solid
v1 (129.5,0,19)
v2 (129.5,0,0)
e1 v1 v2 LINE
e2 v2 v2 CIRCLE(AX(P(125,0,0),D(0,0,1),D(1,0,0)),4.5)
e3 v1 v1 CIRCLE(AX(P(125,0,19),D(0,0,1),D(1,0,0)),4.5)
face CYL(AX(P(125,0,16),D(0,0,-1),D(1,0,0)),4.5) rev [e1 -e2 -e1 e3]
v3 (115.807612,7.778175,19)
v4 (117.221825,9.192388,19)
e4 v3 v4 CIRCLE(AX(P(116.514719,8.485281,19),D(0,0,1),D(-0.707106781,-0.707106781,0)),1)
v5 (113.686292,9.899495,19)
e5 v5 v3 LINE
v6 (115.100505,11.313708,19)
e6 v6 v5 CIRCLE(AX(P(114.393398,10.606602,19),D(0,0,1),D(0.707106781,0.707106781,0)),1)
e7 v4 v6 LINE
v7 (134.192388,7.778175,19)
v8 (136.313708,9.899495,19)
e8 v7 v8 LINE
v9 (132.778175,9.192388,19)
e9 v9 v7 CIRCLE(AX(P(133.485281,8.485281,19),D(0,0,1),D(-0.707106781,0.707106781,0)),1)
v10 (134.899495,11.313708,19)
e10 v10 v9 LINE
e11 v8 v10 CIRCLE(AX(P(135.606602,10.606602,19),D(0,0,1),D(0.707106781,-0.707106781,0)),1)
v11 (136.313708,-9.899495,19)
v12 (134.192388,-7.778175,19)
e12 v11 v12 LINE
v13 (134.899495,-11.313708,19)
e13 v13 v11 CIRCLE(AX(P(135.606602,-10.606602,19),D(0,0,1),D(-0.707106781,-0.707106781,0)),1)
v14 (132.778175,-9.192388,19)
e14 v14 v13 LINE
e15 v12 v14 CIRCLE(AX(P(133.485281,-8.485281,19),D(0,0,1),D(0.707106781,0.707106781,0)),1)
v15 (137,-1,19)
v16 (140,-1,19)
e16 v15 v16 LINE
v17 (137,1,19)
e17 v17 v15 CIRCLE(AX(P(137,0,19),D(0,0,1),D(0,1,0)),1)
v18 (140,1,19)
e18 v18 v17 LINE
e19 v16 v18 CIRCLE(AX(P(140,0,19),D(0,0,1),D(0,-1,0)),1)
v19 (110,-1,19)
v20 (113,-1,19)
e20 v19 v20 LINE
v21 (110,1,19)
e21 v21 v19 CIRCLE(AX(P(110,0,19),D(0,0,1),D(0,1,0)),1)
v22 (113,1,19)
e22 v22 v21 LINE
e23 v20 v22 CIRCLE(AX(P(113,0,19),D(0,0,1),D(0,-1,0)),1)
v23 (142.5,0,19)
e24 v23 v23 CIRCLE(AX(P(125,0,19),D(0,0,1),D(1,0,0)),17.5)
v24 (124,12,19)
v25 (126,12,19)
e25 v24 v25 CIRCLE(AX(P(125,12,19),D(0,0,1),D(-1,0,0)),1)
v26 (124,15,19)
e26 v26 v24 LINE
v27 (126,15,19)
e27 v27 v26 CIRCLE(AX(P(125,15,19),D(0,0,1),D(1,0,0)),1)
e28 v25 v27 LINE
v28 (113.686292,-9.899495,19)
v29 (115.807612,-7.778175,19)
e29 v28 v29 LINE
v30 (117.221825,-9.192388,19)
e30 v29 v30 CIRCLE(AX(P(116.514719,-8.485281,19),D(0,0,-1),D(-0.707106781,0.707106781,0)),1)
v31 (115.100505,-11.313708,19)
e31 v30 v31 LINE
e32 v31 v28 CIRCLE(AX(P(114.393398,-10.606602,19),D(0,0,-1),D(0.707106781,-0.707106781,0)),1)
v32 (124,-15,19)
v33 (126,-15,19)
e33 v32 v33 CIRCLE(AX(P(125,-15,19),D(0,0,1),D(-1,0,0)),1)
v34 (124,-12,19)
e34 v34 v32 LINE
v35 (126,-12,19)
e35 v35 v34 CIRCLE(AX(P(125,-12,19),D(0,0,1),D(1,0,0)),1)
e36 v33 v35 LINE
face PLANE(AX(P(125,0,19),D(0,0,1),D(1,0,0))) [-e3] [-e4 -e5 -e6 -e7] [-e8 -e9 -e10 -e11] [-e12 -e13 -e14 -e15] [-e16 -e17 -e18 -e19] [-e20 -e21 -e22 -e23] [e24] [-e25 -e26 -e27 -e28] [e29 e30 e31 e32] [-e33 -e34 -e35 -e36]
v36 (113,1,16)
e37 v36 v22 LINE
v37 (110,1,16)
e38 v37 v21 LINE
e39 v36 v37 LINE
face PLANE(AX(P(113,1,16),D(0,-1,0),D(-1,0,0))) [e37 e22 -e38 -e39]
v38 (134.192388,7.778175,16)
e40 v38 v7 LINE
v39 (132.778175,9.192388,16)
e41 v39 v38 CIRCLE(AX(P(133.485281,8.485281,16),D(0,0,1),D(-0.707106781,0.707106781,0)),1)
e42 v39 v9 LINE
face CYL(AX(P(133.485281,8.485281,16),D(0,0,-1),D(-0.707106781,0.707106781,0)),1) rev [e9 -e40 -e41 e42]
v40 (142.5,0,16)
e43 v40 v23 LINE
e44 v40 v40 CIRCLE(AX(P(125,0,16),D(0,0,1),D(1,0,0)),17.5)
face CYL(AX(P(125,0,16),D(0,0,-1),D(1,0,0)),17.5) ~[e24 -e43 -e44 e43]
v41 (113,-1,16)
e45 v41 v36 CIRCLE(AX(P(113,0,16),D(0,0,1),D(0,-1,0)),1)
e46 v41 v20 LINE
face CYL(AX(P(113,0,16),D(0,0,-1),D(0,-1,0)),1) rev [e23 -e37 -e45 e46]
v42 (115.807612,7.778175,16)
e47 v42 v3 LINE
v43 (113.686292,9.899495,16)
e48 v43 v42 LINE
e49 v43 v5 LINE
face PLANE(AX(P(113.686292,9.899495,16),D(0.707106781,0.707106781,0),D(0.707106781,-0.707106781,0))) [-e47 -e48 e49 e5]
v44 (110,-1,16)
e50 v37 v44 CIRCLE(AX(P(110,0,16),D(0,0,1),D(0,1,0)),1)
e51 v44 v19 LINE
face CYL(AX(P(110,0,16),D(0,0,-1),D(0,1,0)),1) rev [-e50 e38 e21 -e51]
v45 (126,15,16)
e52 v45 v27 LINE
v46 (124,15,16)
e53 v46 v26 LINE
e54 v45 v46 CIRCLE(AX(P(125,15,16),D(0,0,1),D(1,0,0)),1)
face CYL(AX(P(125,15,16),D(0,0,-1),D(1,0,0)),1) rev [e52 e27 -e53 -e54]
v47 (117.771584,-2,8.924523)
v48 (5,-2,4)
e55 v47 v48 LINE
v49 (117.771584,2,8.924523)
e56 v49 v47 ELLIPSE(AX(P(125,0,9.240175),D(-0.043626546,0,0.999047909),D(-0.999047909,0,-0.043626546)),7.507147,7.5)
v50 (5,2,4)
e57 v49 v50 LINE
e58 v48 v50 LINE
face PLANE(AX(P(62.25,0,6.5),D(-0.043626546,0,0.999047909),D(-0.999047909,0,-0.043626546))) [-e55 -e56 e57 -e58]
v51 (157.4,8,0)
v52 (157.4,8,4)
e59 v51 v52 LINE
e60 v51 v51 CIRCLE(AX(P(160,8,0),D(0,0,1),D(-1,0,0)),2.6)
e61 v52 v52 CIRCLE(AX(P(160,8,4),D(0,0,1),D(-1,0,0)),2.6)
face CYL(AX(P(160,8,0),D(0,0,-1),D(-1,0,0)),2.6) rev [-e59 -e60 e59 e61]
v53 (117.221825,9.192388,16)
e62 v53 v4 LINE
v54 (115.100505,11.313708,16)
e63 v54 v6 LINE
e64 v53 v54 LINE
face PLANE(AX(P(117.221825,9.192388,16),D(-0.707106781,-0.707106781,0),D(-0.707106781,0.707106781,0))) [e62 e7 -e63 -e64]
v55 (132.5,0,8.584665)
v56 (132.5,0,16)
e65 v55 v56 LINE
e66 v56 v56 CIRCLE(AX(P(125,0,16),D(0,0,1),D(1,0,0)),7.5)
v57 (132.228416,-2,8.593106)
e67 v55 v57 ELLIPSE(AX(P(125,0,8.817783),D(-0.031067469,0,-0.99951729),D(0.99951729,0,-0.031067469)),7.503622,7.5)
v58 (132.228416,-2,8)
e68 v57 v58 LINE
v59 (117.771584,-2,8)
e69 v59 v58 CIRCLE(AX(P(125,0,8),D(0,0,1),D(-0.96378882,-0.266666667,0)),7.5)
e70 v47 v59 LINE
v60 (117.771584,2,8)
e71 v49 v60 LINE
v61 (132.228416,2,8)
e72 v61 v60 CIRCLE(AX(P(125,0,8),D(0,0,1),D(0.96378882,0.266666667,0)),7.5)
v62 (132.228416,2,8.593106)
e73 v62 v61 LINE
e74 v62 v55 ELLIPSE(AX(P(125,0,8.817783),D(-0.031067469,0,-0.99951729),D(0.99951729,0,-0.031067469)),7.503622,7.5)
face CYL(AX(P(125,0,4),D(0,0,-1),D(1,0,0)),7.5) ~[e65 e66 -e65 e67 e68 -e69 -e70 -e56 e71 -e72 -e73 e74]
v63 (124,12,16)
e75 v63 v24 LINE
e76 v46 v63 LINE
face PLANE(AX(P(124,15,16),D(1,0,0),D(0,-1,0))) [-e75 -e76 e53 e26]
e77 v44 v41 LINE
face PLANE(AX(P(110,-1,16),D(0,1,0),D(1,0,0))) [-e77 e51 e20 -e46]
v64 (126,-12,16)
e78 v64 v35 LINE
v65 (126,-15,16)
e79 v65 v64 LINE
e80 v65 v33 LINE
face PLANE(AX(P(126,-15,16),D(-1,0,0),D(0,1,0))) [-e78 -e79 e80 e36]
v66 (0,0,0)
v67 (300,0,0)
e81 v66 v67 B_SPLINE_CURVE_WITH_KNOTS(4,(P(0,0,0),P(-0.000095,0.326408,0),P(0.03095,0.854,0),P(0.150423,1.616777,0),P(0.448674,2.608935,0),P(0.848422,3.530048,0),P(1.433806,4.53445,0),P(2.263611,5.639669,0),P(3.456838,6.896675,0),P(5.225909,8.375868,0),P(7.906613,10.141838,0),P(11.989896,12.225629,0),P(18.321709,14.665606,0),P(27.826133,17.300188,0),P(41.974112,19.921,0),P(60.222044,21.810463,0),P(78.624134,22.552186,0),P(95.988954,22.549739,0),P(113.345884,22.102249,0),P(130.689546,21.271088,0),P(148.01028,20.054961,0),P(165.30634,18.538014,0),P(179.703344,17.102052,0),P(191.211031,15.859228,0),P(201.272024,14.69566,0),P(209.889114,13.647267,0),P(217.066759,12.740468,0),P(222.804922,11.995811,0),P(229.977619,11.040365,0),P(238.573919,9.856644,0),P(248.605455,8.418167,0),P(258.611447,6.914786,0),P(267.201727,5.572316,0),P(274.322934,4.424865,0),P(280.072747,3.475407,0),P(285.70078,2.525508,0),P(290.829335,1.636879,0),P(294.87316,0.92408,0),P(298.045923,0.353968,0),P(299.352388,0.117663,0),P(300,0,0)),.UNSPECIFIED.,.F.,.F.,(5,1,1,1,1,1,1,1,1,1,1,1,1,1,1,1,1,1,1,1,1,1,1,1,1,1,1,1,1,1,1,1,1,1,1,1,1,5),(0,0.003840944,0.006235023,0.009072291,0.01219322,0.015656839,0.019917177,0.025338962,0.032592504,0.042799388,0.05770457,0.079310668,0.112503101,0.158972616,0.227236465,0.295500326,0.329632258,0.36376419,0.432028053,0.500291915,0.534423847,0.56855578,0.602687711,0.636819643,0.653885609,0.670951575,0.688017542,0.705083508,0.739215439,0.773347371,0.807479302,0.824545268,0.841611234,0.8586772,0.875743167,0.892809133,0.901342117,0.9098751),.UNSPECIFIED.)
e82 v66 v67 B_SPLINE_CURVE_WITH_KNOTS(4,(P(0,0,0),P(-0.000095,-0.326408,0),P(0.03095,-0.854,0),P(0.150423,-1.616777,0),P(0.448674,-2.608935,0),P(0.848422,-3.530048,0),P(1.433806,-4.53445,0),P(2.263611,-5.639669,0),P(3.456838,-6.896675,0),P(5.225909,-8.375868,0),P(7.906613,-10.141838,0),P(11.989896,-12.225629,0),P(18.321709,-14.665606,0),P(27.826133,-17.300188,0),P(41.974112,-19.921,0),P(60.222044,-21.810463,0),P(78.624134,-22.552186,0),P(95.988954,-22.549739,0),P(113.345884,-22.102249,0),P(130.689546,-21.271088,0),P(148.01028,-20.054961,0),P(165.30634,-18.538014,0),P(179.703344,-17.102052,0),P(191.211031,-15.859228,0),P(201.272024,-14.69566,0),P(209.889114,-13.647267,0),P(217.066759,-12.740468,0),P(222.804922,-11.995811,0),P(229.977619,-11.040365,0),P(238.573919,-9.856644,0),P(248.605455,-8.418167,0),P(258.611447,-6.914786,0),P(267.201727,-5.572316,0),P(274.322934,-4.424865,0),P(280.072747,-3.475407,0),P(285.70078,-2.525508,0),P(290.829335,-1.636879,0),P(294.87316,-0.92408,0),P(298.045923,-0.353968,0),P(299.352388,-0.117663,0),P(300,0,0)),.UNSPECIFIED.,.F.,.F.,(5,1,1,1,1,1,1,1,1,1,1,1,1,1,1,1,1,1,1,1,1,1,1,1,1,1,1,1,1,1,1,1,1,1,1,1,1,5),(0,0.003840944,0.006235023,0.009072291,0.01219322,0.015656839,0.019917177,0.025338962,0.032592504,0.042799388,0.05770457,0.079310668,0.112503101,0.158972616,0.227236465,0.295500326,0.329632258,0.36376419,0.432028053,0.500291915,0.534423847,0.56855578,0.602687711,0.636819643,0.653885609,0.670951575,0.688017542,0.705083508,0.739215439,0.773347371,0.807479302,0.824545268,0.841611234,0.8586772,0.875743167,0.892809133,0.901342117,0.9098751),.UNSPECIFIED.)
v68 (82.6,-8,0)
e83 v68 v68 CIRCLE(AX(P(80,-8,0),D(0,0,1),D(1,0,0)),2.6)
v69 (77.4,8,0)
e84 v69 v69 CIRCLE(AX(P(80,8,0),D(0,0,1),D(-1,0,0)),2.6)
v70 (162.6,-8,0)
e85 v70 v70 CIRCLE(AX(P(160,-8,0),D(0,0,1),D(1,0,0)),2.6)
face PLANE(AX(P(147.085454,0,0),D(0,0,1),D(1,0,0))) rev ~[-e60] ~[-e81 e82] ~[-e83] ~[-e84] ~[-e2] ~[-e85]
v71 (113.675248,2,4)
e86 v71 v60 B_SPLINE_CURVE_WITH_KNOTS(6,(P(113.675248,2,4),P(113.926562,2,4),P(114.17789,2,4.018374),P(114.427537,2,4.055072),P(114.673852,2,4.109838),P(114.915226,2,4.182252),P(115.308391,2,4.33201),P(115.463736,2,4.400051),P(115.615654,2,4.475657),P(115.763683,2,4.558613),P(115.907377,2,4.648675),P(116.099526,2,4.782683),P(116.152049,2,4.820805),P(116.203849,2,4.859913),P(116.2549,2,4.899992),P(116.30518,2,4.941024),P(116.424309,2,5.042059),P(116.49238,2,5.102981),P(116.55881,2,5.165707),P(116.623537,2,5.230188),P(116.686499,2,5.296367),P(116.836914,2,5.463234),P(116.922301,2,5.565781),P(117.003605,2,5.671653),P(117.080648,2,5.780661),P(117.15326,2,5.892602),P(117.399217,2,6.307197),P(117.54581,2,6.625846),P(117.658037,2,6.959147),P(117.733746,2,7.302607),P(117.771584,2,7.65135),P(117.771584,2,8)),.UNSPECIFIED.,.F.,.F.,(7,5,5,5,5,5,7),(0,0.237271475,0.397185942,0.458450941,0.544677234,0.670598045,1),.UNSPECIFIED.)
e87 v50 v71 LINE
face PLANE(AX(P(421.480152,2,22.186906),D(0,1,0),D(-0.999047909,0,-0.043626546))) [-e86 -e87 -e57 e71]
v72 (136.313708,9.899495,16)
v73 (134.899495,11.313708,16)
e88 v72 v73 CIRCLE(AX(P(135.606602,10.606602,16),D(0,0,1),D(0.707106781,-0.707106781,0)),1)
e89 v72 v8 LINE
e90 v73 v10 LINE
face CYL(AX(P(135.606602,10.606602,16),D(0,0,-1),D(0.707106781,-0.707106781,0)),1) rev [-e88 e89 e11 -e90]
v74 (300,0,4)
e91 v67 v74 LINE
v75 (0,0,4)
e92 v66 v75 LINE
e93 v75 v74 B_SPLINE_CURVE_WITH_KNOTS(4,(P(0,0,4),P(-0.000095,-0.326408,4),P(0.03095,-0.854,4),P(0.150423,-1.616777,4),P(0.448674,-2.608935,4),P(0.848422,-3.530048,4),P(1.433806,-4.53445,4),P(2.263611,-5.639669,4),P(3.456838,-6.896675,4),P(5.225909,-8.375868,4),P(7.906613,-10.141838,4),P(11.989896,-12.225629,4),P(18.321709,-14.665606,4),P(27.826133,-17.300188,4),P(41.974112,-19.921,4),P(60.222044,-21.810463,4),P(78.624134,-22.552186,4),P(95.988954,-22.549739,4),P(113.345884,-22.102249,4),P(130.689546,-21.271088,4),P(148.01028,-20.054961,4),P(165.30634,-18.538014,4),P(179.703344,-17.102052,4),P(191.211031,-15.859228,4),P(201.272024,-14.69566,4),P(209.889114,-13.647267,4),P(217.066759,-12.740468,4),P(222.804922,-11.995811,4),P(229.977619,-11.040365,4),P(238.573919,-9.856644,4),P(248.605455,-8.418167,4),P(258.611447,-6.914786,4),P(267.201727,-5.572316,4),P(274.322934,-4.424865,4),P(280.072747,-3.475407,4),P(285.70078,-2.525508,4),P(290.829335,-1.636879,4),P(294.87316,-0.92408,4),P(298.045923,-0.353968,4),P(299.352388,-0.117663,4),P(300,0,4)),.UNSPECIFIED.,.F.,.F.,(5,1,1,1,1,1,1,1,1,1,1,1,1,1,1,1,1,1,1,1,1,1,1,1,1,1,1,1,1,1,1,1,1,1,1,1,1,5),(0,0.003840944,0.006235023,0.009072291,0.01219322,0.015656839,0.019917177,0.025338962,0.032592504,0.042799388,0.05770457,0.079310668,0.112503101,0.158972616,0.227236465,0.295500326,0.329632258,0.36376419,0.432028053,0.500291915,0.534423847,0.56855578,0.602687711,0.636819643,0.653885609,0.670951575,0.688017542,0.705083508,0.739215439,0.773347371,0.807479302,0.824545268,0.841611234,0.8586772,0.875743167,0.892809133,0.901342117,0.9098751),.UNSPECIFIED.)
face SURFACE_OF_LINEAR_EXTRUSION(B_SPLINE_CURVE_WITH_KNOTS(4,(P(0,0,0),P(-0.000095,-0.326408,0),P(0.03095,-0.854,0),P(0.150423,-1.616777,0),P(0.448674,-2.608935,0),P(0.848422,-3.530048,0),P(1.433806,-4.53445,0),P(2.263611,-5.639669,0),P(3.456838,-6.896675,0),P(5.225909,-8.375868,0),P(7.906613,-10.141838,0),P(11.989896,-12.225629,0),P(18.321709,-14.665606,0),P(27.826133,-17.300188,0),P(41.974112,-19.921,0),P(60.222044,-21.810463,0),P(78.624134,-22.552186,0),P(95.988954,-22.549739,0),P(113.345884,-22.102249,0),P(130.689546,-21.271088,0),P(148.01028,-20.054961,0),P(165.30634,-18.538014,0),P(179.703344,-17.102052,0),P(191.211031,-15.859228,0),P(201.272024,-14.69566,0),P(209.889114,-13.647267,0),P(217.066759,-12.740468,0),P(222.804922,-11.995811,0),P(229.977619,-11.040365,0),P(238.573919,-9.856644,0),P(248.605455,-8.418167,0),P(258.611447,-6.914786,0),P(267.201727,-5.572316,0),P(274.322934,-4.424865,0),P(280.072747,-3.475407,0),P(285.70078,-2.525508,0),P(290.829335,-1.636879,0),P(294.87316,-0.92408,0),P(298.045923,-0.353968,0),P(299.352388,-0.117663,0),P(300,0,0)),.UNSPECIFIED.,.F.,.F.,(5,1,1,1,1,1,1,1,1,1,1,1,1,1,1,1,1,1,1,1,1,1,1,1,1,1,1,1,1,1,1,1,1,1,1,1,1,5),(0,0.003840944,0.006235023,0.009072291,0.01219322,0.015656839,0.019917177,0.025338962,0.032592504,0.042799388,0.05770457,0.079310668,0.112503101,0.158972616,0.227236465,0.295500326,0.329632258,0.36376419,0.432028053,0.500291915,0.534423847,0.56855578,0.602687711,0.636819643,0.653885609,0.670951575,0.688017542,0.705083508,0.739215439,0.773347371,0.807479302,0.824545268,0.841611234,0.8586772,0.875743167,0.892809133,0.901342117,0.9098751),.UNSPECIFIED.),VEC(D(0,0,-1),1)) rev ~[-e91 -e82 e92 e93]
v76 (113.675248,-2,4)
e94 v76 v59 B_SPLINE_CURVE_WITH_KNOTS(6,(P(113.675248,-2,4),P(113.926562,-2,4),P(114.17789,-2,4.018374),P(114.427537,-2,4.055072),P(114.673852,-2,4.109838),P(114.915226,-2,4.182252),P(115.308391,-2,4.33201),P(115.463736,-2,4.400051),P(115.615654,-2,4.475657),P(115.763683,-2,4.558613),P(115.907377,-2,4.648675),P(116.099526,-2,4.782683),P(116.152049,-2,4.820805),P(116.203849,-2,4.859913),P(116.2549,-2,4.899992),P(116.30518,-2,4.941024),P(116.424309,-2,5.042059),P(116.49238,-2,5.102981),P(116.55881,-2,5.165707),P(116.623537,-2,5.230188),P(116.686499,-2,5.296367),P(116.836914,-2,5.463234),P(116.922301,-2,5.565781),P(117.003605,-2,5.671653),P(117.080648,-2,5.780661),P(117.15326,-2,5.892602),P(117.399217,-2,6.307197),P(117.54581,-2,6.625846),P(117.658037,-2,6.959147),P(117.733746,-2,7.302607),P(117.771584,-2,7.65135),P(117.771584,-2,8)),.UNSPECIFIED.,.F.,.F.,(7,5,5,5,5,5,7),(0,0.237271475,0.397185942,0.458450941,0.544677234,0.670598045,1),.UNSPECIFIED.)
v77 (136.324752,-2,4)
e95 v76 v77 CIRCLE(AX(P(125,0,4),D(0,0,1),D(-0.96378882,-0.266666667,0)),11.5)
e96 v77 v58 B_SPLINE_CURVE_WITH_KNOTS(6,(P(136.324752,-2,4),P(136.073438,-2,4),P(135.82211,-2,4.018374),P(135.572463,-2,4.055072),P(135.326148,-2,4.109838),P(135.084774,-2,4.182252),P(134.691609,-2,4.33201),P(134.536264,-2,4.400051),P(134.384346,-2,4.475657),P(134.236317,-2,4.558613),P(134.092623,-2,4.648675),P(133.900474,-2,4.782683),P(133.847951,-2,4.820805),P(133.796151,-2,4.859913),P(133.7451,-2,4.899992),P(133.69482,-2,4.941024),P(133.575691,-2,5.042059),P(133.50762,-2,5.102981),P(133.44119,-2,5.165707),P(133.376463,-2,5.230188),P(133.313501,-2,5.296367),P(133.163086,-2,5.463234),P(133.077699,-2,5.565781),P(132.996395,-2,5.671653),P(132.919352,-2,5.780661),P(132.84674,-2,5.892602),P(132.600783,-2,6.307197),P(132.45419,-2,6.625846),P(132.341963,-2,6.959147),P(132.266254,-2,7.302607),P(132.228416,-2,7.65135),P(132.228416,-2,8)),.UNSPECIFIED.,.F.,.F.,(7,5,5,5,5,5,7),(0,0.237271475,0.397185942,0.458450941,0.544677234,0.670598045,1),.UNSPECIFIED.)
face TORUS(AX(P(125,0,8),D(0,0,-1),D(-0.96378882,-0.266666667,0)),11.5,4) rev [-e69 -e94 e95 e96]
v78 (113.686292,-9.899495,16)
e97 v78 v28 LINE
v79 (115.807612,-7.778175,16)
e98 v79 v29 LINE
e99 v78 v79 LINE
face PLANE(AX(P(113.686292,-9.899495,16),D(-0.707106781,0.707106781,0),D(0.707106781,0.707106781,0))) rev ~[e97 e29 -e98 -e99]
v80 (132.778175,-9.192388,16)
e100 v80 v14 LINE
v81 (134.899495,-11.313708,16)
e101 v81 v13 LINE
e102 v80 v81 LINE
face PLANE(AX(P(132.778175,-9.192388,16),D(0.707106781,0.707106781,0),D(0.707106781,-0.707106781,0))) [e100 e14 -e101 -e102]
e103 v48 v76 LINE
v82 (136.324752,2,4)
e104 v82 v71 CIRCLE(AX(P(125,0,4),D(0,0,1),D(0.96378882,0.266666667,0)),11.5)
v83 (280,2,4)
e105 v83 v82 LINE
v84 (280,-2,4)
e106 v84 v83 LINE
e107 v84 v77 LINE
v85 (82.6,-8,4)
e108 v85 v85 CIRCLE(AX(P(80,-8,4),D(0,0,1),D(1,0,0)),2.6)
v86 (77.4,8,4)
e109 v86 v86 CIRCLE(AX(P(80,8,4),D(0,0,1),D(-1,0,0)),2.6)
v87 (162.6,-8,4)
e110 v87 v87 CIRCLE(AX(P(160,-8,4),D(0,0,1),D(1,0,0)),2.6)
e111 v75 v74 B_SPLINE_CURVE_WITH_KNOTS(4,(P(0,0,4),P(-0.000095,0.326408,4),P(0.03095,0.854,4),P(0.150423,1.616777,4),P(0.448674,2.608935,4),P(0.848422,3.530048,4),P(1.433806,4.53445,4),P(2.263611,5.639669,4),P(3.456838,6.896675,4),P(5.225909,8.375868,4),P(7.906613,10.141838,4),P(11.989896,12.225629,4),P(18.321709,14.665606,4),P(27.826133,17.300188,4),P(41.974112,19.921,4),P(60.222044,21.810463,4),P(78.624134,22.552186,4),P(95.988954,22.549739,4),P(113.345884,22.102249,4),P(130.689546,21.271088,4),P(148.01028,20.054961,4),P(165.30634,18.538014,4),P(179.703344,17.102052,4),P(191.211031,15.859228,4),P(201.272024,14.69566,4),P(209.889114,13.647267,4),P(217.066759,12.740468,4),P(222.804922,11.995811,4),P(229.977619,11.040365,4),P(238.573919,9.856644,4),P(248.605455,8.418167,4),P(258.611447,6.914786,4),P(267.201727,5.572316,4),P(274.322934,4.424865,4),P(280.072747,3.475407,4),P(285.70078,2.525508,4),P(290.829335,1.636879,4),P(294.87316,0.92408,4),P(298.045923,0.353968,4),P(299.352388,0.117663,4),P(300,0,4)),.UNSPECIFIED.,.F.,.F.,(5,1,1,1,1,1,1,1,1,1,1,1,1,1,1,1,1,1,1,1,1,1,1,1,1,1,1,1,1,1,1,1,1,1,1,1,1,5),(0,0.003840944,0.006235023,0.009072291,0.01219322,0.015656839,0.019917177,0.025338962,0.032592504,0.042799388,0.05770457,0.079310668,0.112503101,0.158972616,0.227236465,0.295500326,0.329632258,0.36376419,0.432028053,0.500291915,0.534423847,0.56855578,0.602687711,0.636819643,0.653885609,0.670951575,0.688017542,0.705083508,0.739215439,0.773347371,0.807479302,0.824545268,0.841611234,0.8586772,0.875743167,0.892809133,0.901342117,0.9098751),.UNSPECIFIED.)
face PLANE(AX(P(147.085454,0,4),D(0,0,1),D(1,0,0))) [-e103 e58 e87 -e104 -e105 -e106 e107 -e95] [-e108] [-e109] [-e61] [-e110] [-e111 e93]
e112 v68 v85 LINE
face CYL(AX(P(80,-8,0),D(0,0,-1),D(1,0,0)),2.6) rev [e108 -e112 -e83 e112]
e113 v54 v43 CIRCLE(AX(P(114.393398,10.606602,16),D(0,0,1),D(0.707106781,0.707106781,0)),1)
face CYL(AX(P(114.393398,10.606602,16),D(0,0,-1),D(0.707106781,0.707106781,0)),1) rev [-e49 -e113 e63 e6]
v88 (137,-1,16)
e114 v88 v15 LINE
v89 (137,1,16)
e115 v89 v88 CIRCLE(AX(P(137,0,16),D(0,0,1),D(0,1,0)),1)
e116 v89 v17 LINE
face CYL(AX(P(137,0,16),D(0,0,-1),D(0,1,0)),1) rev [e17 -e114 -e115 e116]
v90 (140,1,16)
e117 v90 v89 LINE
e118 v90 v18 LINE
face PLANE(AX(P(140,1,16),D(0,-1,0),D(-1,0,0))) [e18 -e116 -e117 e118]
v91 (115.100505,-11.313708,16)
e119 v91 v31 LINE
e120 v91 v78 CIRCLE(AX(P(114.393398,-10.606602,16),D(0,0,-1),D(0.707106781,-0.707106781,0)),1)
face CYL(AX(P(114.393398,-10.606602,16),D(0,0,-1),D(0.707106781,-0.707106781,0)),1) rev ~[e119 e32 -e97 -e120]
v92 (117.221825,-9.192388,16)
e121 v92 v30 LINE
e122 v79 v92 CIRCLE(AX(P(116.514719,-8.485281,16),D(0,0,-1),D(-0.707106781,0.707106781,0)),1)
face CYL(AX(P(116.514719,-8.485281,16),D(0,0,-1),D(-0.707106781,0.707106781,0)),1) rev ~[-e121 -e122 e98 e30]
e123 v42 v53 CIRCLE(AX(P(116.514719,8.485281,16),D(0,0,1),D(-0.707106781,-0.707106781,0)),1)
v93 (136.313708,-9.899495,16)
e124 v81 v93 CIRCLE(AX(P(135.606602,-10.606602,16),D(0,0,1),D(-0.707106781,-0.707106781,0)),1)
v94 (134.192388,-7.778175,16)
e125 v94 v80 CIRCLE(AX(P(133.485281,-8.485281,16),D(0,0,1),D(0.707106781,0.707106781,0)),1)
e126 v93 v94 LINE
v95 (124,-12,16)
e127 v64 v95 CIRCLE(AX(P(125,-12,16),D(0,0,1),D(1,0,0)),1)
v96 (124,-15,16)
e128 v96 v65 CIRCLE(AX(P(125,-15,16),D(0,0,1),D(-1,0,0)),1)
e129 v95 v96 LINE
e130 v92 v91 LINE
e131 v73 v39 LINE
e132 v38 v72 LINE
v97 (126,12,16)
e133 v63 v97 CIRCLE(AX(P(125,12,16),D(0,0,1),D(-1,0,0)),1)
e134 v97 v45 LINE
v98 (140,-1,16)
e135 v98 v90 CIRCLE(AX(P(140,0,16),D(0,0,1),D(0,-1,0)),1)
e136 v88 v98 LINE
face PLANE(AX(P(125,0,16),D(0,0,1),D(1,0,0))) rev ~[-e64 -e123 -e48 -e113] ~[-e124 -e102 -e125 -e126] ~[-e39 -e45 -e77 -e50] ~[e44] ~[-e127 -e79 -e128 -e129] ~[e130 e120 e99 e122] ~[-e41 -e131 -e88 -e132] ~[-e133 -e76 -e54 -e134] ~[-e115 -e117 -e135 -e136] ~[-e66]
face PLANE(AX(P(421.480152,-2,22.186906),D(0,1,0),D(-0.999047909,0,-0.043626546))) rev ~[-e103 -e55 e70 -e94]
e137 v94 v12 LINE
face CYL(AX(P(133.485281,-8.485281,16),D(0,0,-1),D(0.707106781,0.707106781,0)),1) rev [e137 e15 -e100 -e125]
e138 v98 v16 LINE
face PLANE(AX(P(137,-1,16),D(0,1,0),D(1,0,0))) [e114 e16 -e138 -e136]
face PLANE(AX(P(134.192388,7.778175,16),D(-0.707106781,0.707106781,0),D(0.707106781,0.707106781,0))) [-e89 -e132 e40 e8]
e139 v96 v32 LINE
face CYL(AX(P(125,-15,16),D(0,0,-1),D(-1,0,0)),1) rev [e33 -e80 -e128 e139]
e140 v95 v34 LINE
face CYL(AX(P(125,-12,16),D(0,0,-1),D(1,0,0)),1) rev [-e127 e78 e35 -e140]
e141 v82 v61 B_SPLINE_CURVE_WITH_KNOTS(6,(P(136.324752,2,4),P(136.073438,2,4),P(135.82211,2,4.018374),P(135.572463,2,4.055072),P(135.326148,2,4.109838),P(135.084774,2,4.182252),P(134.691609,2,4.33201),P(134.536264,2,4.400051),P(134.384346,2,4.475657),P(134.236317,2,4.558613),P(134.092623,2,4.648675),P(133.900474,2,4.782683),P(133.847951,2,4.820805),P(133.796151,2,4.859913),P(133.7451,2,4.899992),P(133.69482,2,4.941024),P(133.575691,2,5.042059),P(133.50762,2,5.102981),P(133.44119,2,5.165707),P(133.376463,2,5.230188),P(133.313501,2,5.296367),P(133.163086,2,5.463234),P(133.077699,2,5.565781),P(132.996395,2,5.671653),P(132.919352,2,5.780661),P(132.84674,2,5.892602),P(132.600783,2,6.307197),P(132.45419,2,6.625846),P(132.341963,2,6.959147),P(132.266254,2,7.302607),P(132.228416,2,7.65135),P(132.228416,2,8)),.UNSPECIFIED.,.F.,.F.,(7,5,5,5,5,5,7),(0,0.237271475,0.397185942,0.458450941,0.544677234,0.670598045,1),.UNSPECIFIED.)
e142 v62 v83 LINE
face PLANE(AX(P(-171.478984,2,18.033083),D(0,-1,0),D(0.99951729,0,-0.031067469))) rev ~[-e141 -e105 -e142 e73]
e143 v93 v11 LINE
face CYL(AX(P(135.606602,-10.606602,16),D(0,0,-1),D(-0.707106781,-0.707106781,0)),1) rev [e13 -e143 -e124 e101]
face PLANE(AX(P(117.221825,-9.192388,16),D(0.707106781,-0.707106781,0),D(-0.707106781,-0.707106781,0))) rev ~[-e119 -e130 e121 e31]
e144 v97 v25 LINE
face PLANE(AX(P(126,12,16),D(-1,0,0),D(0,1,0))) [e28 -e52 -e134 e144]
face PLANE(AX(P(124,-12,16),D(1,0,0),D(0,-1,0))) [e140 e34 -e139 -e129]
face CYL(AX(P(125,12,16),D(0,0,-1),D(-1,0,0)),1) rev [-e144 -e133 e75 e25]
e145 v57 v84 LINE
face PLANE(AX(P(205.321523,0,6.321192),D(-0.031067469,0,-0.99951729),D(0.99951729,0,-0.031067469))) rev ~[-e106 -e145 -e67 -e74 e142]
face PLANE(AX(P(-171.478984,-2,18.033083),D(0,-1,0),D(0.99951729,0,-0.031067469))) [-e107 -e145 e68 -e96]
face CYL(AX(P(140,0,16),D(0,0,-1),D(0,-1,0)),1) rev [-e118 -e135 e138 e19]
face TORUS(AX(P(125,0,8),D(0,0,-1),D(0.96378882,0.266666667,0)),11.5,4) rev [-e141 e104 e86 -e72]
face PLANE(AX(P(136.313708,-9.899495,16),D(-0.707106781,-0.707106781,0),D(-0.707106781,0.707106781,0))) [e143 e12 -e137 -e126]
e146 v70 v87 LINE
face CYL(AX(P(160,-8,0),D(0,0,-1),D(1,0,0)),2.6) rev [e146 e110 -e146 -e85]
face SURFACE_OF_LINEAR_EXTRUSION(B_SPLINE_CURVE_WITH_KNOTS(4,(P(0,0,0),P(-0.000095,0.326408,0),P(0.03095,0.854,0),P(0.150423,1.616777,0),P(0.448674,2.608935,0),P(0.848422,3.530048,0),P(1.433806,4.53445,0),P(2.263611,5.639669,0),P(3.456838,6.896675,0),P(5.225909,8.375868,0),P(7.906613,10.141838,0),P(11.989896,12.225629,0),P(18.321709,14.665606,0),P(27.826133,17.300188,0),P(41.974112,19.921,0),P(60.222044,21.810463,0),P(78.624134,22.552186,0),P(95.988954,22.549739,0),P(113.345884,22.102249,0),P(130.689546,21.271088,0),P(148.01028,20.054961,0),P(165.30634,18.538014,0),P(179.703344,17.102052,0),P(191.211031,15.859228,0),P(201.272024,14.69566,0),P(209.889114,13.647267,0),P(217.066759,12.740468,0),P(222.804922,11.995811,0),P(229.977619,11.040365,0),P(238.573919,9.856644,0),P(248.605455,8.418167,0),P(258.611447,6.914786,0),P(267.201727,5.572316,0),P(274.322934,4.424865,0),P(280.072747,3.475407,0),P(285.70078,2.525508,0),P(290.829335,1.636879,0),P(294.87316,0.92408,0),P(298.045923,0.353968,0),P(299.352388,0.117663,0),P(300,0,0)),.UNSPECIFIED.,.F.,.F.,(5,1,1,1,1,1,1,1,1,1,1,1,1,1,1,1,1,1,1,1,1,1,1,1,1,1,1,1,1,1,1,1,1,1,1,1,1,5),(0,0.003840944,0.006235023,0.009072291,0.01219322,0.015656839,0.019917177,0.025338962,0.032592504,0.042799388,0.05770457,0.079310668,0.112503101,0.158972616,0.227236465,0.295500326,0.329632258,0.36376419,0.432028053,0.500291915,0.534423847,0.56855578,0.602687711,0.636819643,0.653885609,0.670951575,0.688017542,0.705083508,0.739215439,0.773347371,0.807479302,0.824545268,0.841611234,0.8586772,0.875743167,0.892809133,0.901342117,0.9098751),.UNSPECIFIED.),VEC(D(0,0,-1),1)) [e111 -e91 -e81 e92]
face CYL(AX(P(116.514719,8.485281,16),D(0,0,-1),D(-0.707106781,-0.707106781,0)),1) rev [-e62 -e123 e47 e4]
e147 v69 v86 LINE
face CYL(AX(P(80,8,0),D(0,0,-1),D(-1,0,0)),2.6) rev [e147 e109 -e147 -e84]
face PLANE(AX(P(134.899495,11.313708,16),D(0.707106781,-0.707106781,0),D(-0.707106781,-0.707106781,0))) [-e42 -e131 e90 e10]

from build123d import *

# Parameters (mm, degrees)
SKETCH_1_R      = 4.5
SKETCH_1_R_2    = 2.6
EXTRUDE_1_DEPTH = 4
SKETCH_2_R      = 7.5
SKETCH_2_R_2    = 4.5
EXTRUDE_2_DEPTH = 12
RIB_7_REACH     = 303.268
SKETCH_4_WALL_W = 719.144994966
SKETCH_4_WALL_H = 4
RIB_8_REACH     = 303.268
SKETCH_5_WALL_W = 753.964961
SKETCH_5_WALL_H = 4
FILLET_1_R      = 4
SKETCH_6_R      = 17.5
SKETCH_6_R_2    = 4.5
EXTRUDE_3_DEPTH = 3


with BuildPart() as part:
    # 草图1 → 凸台-拉伸1 (new body)
    with BuildSketch(Plane.XY):
        with BuildLine():
            add(Edge.make_bspline(
                [(0, 0), (-9.5489e-05, -0.326407864), (0.030950281, -0.854000019), (0.150423202, -1.616777315), (0.448674258, -2.608935021), (0.848421592, -3.530047693), (1.433806351, -4.534449955), (2.263610744, -5.639668731), (3.456837907, -6.896675246), (5.225908513, -8.375867947), (7.906613431, -10.141837985), (11.989896233, -12.22562949), (18.321708513, -14.665606049), (27.826133031, -17.300188207), (41.974112353, -19.921000387), (60.222043604, -21.810463358), (78.624134319, -22.552186027), (95.988954389, -22.549739294), (113.345884106, -22.102249143), (130.689546496, -21.271088382), (148.01027967, -20.054961298), (165.306340091, -18.538013572), (179.703344131, -17.102052063), (191.21103146, -15.859228418), (201.272024493, -14.695659938), (209.889114389, -13.64726737), (217.06675899, -12.740467847), (222.804921516, -11.995811085), (229.977619163, -11.040364781), (238.573919489, -9.856643655), (248.605455284, -8.418167008), (258.611446595, -6.914785611), (267.201727162, -5.572315852), (274.322933639, -4.424865398), (280.072746677, -3.475406948), (285.700780324, -2.525508132), (290.829335304, -1.636879112), (294.873159607, -0.924080287), (298.04592284, -0.353968123), (299.35238804, -0.117662998), (300, 0)],
                knots=[0, 0, 0, 0, 0, 0.003840944, 0.006235023, 0.009072291, 0.01219322, 0.015656839, 0.019917177, 0.025338962, 0.032592504, 0.042799388, 0.05770457, 0.079310668, 0.112503101, 0.158972616, 0.227236465, 0.295500326, 0.329632258, 0.36376419, 0.432028053, 0.500291915, 0.534423847, 0.56855578, 0.602687711, 0.636819643, 0.653885609, 0.670951575, 0.688017542, 0.705083508, 0.739215439, 0.773347371, 0.807479302, 0.824545268, 0.841611234, 0.8586772, 0.875743167, 0.892809133, 0.901342117, 0.9098751, 0.9098751, 0.9098751, 0.9098751, 0.9098751], degree=4))
            add(Edge.make_bspline(
                [(0, 0), (-9.5489e-05, 0.326407864), (0.030950281, 0.854000019), (0.150423202, 1.616777315), (0.448674258, 2.608935021), (0.848421592, 3.530047693), (1.433806351, 4.534449955), (2.263610744, 5.639668731), (3.456837907, 6.896675246), (5.225908513, 8.375867947), (7.906613431, 10.141837985), (11.989896233, 12.22562949), (18.321708513, 14.665606049), (27.826133031, 17.300188207), (41.974112353, 19.921000387), (60.222043604, 21.810463358), (78.624134319, 22.552186027), (95.988954389, 22.549739295), (113.345884106, 22.102249143), (130.689546496, 21.271088382), (148.01027967, 20.054961298), (165.306340091, 18.538013572), (179.703344131, 17.102052063), (191.21103146, 15.859228418), (201.272024493, 14.695659938), (209.889114389, 13.64726737), (217.06675899, 12.740467847), (222.804921516, 11.995811086), (229.977619163, 11.040364781), (238.573919489, 9.856643655), (248.605455284, 8.418167008), (258.611446595, 6.914785611), (267.201727162, 5.572315852), (274.322933639, 4.424865398), (280.072746677, 3.475406948), (285.700780324, 2.525508132), (290.829335304, 1.636879112), (294.873159607, 0.924080288), (298.04592284, 0.353968123), (299.35238804, 0.117662998), (300, 0)],
                knots=[0, 0, 0, 0, 0, 0.003840944, 0.006235023, 0.009072291, 0.01219322, 0.015656839, 0.019917177, 0.025338962, 0.032592504, 0.042799388, 0.05770457, 0.079310668, 0.112503101, 0.158972616, 0.227236465, 0.295500326, 0.329632258, 0.36376419, 0.432028053, 0.500291915, 0.534423847, 0.56855578, 0.602687711, 0.636819643, 0.653885609, 0.670951575, 0.688017542, 0.705083508, 0.739215439, 0.773347371, 0.807479302, 0.824545268, 0.841611234, 0.8586772, 0.875743167, 0.892809133, 0.901342117, 0.9098751, 0.9098751, 0.9098751, 0.9098751, 0.9098751], degree=4))
        make_face()
        with Locations((125, 0)):
            Circle(SKETCH_1_R, mode=Mode.SUBTRACT)
        with Locations((80, -8)):
            Circle(SKETCH_1_R_2, mode=Mode.SUBTRACT)
        with Locations((160, -8)):
            Circle(SKETCH_1_R_2, mode=Mode.SUBTRACT)
        with Locations(Location((80, 8, 0), (0, 0, 180))):
            Circle(SKETCH_1_R_2, mode=Mode.SUBTRACT)
        with Locations(Location((160, 8, 0), (0, 0, 180))):
            Circle(SKETCH_1_R_2, mode=Mode.SUBTRACT)
    extrude(amount=EXTRUDE_1_DEPTH)

    # 草图2 → 凸台-拉伸2 (add)
    with BuildSketch(Plane.XY.offset(4)):
        with Locations((125, 0)):
            Circle(SKETCH_2_R)
        with Locations((125, 0)):
            Circle(SKETCH_2_R_2, mode=Mode.SUBTRACT)
    extrude(amount=EXTRUDE_2_DEPTH)

    # 草图4 wall → 筋7 (add, up to next)
    with BuildSketch(Plane(origin=(62.25, 0, 6.5), x_dir=(-0.999047908993, 0, -0.043626546244), z_dir=(-0.043626546244, 0, 0.999047908993)), mode=Mode.PRIVATE) as rib_7_sk1:
        Rectangle(SKETCH_4_WALL_W, SKETCH_4_WALL_H)
    rib_7_tool1 = extrude(rib_7_sk1.sketch, amount=-RIB_7_REACH, mode=Mode.PRIVATE) - part.part
    add(rib_7_tool1.solids().sort_by_distance((62.25, 0, 6.5))[0])

    # 草图5 wall → 筋8 (add, up to next)
    with BuildSketch(Plane(origin=(205.321523309, 0, 6.321191727), x_dir=(0.999517289679, 0, -0.031067469057), z_dir=(-0.031067469057, 0, -0.999517289679)), mode=Mode.PRIVATE) as rib_8_sk1:
        Rectangle(SKETCH_5_WALL_W, SKETCH_5_WALL_H)
    rib_8_tool1 = extrude(rib_8_sk1.sketch, amount=RIB_8_REACH, mode=Mode.PRIVATE) - part.part
    add(rib_8_tool1.solids().sort_by_distance((205.321523309, 0, 6.321191727))[0])

    # 圆角1
    fillet_1_edges = [part.edges().sort_by_distance(p)[0] for p in [
        (125, -7.5, 4),
        (125, 7.5, 4),
    ]]
    fillet(fillet_1_edges, radius=FILLET_1_R)

    # 草图6 → 凸台-拉伸3 (add)
    with BuildSketch(Plane.XY.offset(16)):
        with Locations((125, 0)):
            Circle(SKETCH_6_R)
        with Locations((125, 0)):
            Circle(SKETCH_6_R_2, mode=Mode.SUBTRACT)
        with BuildLine():
            Line((140, 1), (137, 1))
            ThreePointArc((137, 1), (136, 0), (137, -1))
            Line((137, -1), (140, -1))
            ThreePointArc((140, -1), (141, 0), (140, 1))
        make_face(mode=Mode.SUBTRACT)
        with BuildLine():
            Line((110, -1), (113, -1))
            ThreePointArc((113, -1), (114, 0), (113, 1))
            Line((113, 1), (110, 1))
            ThreePointArc((110, 1), (109, 0), (110, -1))
        make_face(mode=Mode.SUBTRACT)
        with BuildLine():
            Line((126, -15), (126, -12))
            ThreePointArc((126, -12), (125, -11), (124, -12))
            Line((124, -12), (124, -15))
            ThreePointArc((124, -15), (125, -16), (126, -15))
        make_face(mode=Mode.SUBTRACT)
        with BuildLine():
            Line((124, 15), (124, 12))
            ThreePointArc((124, 12), (125, 11), (126, 12))
            Line((126, 12), (126, 15))
            ThreePointArc((126, 15), (125, 16), (124, 15))
        make_face(mode=Mode.SUBTRACT)
        with BuildLine():
            Line((134.899494937, 11.313708499), (132.778174593, 9.192388155))
            ThreePointArc((132.778174593, 9.192388155), (132.778174593, 7.778174593), (134.192388155, 7.778174593))
            Line((134.192388155, 7.778174593), (136.313708499, 9.899494937))
            ThreePointArc((136.313708499, 9.899494937), (136.313708499, 11.313708499), (134.899494937, 11.313708499))
        make_face(mode=Mode.SUBTRACT)
        with BuildLine():
            Line((113.686291501, 9.899494937), (115.807611845, 7.778174593))
            ThreePointArc((115.807611845, 7.778174593), (117.221825407, 7.778174593), (117.221825407, 9.192388155))
            Line((117.221825407, 9.192388155), (115.100505063, 11.313708499))
            ThreePointArc((115.100505063, 11.313708499), (113.686291501, 11.313708499), (113.686291501, 9.899494937))
        make_face(mode=Mode.SUBTRACT)
        with BuildLine():
            Line((113.686291501, -9.899494937), (115.807611845, -7.778174593))
            ThreePointArc((115.807611845, -7.778174593), (117.221825407, -7.778174593), (117.221825407, -9.192388155))
            Line((117.221825407, -9.192388155), (115.100505063, -11.313708499))
            ThreePointArc((115.100505063, -11.313708499), (113.686291501, -11.313708499), (113.686291501, -9.899494937))
        make_face(mode=Mode.SUBTRACT)
        with BuildLine():
            Line((136.313708499, -9.899494937), (134.192388155, -7.778174593))
            ThreePointArc((134.192388155, -7.778174593), (132.778174593, -7.778174593), (132.778174593, -9.192388155))
            Line((132.778174593, -9.192388155), (134.899494937, -11.313708499))
            ThreePointArc((134.899494937, -11.313708499), (136.313708499, -11.313708499), (136.313708499, -9.899494937))
        make_face(mode=Mode.SUBTRACT)
    extrude(amount=EXTRUDE_3_DEPTH)


solid = part.part
